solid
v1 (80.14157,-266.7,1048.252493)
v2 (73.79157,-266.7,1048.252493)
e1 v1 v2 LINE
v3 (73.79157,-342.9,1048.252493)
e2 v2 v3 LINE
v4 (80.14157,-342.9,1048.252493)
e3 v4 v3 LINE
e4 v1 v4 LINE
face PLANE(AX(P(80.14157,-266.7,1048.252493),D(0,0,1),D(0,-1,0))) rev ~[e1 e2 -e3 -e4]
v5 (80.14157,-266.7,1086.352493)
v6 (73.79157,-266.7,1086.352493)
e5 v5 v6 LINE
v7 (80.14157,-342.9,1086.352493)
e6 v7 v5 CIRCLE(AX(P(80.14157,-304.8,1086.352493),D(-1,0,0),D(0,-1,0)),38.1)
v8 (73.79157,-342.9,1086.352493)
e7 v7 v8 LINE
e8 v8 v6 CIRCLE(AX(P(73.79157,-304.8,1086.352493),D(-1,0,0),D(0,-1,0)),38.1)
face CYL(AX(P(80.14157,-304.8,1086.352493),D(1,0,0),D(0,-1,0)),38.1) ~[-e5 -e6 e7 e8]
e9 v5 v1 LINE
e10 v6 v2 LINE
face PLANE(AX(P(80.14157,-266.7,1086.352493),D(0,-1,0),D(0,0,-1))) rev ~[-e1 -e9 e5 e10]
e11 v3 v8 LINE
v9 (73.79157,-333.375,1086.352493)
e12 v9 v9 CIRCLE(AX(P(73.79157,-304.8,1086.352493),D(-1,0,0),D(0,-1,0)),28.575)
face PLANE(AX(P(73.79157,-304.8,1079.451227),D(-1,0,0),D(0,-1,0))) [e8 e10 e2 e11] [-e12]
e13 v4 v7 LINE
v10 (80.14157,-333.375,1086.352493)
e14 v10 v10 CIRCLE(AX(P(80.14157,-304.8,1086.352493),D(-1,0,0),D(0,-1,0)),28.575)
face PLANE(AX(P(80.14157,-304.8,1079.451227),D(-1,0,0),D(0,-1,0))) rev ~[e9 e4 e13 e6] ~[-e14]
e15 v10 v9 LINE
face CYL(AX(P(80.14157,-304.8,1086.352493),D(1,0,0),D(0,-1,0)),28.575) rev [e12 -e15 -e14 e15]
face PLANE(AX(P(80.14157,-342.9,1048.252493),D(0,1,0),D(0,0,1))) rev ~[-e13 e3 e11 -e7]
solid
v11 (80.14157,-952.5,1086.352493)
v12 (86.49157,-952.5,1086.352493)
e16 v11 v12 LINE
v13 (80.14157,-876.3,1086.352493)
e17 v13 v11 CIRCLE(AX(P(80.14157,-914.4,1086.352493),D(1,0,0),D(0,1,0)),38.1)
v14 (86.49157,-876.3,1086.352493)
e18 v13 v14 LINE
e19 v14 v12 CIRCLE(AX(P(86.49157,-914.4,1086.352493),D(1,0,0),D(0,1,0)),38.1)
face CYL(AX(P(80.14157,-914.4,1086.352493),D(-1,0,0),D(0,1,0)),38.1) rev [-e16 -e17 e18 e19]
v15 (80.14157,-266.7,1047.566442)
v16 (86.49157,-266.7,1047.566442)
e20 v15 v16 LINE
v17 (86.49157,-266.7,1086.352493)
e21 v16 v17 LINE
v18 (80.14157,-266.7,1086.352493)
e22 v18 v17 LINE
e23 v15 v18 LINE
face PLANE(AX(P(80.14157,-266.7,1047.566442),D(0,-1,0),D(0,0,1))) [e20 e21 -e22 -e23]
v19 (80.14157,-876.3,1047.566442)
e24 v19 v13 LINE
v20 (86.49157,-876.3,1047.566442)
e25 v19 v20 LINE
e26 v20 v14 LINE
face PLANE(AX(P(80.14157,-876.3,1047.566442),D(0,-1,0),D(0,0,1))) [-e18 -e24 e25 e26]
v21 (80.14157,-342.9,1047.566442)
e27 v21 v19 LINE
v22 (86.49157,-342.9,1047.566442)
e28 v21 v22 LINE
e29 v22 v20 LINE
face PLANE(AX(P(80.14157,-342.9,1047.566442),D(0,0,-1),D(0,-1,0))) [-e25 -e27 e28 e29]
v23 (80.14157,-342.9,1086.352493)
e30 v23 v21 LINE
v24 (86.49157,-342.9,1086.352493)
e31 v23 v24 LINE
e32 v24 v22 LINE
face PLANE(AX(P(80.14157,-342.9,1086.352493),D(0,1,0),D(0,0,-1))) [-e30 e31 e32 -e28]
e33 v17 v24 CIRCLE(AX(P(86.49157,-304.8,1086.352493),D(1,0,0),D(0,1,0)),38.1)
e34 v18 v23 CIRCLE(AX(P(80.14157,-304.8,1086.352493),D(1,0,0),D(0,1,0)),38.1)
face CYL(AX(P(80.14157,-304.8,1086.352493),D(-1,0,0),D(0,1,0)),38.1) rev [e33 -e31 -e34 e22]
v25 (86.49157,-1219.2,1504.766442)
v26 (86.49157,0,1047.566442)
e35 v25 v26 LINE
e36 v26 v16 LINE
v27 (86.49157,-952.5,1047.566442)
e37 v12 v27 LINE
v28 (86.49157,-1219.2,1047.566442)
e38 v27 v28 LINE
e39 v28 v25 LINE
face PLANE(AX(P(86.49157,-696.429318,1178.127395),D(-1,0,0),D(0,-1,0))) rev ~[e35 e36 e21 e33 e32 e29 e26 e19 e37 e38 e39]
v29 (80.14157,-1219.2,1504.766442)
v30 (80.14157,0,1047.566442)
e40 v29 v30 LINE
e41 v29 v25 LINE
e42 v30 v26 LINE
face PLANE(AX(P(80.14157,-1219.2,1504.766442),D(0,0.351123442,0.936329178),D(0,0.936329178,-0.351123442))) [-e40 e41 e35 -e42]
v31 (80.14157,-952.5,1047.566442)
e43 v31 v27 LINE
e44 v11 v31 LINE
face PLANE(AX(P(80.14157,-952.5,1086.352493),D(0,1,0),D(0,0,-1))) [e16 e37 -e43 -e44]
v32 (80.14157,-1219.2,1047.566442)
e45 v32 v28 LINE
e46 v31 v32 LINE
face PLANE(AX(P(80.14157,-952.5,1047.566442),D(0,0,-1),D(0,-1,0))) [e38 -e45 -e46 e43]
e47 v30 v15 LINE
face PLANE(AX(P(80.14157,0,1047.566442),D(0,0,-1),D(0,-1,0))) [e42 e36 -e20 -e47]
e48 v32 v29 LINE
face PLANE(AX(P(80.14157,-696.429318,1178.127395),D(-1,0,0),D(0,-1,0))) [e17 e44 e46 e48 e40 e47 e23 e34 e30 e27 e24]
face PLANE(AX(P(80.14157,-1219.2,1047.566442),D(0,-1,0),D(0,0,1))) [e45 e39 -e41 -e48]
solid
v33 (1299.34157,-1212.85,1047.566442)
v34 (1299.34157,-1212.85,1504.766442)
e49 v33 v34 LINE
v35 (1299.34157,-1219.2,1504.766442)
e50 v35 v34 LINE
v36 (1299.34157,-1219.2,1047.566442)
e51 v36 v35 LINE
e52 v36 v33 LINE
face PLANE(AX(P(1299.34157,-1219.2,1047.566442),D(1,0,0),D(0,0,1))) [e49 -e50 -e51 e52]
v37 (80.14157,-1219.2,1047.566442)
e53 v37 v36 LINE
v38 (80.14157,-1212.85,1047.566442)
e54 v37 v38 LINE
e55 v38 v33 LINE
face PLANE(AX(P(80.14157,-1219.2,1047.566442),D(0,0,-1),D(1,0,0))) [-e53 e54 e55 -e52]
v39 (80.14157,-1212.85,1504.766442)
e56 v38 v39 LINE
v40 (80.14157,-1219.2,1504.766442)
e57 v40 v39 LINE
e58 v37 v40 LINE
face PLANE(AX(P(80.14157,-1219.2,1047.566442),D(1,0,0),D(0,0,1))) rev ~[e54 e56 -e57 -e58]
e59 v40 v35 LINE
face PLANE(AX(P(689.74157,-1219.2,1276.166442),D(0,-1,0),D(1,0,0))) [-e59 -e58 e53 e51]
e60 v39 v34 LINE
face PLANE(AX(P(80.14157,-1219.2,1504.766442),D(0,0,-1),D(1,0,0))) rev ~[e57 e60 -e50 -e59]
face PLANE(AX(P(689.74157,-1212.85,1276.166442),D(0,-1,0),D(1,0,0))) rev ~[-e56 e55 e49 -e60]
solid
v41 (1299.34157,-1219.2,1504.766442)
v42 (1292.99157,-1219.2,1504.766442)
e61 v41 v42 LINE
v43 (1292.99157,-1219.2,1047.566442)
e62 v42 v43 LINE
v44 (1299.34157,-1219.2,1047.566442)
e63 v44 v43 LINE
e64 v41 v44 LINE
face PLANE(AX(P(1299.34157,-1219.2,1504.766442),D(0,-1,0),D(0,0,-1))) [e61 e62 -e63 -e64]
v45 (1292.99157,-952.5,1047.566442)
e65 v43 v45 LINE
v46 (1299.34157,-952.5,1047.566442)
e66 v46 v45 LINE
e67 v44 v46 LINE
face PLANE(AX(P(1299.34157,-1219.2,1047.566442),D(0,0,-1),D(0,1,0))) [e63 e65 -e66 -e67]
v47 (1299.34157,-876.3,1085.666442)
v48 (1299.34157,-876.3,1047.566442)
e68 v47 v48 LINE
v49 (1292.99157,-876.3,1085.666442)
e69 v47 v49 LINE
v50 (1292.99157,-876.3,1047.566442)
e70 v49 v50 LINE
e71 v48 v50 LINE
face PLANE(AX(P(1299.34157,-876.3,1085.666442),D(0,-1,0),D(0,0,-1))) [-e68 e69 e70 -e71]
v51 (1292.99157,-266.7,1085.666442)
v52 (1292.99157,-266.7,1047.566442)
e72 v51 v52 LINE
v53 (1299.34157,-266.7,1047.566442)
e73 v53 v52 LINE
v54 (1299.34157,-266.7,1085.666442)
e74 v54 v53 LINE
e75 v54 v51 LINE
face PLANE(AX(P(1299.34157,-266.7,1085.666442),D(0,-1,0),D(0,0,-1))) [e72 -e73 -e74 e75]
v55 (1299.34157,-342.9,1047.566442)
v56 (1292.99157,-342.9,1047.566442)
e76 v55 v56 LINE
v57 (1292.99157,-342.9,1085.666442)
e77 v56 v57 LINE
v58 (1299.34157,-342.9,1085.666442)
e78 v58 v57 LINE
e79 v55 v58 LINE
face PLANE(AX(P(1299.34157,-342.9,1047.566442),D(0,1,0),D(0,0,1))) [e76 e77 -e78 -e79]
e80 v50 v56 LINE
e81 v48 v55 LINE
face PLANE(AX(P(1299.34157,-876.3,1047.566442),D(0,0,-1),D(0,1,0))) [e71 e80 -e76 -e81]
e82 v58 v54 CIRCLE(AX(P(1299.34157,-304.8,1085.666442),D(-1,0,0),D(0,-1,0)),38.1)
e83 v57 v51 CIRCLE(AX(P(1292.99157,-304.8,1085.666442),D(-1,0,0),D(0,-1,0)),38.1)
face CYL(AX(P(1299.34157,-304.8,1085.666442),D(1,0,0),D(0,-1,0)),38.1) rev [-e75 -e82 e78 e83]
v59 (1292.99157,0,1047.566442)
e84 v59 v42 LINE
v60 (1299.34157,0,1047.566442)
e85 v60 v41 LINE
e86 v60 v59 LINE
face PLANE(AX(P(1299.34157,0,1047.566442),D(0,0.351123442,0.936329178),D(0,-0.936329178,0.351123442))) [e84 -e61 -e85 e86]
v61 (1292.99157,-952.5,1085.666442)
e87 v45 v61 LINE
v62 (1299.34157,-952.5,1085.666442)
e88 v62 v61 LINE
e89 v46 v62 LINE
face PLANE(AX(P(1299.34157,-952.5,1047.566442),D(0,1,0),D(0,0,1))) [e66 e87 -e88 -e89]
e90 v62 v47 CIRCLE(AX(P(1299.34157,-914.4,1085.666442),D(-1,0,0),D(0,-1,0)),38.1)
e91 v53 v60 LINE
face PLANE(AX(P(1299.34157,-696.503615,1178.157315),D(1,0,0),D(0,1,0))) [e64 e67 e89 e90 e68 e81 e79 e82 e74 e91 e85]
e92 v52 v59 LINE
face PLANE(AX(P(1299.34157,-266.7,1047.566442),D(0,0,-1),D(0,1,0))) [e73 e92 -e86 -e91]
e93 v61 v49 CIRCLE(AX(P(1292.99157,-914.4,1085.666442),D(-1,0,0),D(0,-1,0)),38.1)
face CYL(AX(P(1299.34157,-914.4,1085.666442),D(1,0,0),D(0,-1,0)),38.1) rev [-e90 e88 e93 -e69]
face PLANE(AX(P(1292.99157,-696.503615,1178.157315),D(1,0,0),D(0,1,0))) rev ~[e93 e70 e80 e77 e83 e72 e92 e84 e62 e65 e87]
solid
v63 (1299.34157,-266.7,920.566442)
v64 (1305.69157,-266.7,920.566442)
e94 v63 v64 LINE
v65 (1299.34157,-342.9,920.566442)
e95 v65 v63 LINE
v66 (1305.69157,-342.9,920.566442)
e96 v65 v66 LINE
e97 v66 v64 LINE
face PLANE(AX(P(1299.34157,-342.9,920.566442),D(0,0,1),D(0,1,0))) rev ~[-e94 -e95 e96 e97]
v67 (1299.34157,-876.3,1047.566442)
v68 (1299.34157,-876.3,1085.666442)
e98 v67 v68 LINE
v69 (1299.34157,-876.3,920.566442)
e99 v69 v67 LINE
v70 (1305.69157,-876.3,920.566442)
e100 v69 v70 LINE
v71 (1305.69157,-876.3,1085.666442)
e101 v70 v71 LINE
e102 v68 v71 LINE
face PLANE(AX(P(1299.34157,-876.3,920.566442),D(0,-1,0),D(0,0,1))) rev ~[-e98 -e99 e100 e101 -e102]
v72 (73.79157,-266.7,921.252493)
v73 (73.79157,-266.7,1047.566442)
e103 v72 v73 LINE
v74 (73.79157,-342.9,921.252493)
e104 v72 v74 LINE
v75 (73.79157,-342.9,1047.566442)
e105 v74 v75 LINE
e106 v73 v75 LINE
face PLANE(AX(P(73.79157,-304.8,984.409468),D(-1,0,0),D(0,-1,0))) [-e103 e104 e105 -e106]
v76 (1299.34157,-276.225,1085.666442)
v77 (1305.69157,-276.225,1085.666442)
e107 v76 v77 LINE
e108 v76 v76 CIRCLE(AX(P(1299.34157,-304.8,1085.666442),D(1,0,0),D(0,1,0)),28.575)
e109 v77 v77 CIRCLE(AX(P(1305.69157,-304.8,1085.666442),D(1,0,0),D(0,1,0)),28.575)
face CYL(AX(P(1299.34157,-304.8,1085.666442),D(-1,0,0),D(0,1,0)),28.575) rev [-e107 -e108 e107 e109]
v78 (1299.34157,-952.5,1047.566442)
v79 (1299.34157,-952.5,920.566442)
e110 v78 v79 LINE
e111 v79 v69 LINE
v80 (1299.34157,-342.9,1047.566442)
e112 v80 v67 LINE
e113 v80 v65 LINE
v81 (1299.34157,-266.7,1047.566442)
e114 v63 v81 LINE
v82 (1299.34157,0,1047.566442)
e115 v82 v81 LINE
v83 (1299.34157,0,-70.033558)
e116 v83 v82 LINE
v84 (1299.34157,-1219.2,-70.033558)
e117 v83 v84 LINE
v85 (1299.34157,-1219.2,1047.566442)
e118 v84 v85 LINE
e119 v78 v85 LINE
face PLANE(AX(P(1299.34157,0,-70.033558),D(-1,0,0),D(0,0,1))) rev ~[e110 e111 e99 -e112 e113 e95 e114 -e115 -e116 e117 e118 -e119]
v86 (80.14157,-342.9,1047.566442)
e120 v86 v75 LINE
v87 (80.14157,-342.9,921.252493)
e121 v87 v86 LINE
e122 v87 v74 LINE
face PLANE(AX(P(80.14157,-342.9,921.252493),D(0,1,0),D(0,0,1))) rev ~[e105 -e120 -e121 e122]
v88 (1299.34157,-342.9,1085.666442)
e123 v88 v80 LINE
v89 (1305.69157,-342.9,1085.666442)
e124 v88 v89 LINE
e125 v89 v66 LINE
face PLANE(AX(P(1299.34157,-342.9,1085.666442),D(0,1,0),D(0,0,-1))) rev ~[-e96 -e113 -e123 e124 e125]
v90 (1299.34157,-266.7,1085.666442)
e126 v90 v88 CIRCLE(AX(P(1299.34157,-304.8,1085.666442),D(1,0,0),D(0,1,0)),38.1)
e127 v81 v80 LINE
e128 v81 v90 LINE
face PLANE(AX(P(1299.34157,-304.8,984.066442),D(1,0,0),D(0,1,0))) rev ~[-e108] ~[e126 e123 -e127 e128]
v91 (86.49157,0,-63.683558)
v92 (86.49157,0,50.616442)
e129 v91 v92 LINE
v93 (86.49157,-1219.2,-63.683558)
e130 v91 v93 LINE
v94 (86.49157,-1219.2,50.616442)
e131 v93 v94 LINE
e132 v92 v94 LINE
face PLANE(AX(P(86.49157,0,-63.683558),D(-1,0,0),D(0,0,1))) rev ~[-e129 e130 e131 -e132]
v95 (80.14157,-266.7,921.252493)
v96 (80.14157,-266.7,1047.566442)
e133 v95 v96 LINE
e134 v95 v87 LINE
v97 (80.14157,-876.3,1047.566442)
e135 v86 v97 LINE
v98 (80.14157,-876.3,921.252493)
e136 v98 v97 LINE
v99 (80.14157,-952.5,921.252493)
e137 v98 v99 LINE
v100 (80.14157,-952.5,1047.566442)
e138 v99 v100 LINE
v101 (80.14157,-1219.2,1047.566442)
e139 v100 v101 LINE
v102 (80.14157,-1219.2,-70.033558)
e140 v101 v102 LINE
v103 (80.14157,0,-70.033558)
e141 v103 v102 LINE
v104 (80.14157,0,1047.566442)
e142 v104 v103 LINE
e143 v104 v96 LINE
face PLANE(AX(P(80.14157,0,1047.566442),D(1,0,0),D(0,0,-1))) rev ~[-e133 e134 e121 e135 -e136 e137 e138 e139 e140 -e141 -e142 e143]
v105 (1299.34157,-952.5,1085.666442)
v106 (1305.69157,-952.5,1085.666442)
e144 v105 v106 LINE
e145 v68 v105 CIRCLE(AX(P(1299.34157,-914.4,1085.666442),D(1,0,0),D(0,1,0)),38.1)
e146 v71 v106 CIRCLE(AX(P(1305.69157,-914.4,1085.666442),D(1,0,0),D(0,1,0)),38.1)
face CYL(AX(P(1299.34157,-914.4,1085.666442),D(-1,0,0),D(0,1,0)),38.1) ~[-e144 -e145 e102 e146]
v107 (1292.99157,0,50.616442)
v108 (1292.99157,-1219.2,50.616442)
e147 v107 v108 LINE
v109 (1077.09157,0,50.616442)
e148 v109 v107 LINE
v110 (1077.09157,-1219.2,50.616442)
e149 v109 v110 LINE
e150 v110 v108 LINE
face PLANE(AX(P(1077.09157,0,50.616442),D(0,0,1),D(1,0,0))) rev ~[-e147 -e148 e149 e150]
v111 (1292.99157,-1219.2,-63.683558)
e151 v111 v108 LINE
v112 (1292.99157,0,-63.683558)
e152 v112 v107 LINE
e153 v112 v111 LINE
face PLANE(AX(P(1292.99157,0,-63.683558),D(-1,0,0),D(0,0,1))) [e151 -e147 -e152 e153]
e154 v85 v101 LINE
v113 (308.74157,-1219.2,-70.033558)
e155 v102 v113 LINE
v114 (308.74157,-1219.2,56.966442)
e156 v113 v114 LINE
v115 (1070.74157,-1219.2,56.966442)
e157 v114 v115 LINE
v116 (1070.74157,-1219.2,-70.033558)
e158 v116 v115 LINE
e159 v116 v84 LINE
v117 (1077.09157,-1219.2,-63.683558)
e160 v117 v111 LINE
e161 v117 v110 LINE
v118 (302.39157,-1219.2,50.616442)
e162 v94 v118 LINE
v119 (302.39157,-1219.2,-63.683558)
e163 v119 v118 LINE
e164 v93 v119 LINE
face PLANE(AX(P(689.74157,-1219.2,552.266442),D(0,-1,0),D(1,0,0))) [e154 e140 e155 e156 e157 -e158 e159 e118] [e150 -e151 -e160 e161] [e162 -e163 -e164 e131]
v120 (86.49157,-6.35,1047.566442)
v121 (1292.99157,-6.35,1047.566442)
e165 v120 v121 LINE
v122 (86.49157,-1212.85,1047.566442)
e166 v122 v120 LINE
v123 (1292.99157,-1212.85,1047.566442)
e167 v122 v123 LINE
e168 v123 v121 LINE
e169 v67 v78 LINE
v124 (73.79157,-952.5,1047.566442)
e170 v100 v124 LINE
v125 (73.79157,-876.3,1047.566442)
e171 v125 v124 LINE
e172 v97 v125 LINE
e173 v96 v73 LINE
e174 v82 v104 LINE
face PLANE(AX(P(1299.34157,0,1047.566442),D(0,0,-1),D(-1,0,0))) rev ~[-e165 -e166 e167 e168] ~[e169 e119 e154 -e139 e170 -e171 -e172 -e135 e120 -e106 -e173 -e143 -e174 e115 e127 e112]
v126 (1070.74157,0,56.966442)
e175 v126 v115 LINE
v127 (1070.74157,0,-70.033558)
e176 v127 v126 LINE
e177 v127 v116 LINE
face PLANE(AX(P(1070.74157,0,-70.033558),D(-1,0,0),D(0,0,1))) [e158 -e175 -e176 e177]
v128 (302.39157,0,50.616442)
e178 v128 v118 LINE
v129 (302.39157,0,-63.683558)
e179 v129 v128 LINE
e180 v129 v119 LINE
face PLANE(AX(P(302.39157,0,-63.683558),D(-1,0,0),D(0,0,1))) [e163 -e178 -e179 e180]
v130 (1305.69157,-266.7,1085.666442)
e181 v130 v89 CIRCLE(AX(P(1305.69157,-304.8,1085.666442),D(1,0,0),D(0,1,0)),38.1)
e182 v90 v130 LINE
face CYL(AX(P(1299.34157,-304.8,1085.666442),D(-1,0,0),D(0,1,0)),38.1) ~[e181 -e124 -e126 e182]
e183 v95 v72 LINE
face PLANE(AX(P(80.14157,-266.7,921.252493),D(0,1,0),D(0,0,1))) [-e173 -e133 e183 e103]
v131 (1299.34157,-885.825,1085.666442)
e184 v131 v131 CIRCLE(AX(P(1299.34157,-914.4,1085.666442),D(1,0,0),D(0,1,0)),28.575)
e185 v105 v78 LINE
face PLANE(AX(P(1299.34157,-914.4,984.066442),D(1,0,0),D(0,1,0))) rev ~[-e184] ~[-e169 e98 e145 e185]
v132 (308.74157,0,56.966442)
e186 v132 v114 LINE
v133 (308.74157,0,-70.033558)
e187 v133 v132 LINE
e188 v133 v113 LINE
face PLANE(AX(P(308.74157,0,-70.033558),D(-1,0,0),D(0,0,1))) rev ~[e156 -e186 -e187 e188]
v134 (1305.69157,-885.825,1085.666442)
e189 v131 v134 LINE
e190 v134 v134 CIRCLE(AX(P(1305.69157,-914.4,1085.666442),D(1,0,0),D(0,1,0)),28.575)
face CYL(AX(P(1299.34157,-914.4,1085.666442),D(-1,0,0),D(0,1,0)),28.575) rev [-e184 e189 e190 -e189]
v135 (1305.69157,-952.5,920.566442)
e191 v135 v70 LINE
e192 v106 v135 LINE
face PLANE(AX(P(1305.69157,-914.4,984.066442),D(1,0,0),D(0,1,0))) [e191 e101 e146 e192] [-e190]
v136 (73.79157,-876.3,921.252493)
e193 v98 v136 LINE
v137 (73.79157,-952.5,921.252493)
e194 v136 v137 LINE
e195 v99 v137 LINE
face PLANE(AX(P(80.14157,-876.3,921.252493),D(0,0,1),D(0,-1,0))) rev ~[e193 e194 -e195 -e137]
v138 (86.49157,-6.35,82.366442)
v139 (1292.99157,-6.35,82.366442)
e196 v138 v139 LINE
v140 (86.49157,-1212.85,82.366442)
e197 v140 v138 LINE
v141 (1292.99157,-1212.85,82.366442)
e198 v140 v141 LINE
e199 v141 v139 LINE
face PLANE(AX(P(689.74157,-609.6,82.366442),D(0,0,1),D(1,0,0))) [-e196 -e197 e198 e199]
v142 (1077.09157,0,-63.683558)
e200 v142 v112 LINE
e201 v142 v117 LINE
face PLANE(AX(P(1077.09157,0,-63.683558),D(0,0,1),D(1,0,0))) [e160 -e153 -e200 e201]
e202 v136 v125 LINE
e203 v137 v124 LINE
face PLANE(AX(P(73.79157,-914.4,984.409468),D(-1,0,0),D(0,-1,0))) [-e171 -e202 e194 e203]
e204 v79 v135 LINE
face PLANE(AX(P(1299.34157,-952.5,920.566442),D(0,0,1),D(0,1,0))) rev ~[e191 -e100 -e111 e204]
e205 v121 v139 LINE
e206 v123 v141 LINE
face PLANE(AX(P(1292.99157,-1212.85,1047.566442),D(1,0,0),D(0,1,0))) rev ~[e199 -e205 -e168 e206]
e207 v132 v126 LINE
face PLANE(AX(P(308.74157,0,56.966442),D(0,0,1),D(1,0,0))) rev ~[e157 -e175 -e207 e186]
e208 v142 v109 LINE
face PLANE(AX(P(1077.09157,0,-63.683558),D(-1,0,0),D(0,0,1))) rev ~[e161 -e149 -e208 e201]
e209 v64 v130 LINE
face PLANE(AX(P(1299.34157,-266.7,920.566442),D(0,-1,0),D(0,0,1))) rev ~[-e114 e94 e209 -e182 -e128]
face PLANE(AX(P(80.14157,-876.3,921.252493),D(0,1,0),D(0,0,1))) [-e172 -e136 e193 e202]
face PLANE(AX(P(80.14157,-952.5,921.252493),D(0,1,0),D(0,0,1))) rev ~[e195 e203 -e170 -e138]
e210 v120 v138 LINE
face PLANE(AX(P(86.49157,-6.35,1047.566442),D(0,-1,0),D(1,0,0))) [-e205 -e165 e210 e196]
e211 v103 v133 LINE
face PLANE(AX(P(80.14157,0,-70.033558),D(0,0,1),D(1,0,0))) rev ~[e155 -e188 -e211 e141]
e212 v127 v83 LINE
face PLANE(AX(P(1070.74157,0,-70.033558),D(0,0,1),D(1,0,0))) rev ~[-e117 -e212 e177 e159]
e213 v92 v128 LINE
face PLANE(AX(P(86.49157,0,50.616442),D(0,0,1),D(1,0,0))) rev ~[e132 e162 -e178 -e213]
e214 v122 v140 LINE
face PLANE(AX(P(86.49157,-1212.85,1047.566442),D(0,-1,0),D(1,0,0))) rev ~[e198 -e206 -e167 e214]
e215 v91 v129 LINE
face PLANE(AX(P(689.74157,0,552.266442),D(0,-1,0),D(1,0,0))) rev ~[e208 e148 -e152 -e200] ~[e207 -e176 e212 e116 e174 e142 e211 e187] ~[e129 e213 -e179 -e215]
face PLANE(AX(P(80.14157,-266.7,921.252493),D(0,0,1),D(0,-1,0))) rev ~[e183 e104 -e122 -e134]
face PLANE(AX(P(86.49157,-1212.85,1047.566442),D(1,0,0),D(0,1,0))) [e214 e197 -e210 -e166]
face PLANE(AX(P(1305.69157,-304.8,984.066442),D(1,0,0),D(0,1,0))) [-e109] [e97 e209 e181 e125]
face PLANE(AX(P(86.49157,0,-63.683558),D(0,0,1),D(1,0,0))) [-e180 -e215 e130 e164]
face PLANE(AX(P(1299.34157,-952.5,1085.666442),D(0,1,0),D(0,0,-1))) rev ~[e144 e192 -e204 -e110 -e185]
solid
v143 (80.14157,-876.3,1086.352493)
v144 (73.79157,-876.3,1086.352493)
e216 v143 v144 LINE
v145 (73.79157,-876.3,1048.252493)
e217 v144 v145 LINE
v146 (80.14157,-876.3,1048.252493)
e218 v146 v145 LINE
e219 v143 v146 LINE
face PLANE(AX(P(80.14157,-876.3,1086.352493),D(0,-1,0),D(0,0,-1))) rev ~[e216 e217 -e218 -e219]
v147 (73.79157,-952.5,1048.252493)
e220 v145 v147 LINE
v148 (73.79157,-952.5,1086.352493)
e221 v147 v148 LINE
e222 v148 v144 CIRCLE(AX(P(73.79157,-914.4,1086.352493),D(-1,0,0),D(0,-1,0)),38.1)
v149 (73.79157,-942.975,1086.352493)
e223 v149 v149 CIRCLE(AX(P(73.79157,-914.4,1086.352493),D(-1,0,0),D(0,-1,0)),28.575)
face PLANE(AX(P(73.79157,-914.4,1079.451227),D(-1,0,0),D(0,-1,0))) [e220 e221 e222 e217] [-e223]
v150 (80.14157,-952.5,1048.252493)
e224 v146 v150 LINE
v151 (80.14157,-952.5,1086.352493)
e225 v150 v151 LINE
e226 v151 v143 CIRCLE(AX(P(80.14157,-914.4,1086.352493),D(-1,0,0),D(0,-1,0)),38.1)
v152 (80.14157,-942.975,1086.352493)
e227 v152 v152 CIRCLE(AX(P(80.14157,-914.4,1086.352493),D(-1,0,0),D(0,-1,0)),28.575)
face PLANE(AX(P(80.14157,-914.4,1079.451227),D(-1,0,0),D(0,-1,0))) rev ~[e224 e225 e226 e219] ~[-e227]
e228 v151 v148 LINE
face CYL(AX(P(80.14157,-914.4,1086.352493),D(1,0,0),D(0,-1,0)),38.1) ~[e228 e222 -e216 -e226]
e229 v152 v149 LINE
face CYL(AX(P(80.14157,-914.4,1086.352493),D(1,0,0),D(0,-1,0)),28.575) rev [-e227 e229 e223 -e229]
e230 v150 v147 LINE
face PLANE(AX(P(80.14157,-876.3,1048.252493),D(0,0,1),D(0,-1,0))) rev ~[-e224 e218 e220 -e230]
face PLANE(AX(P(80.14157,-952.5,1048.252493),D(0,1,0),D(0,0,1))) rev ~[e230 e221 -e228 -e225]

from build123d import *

# Parameters (mm, degrees)
F0_W      = 228.6
F0_H      = 127
F0_W_2    = 215.9
F0_H_2    = 114.3
F1_DEPTH  = 1219.2
F2_W      = 1206.5
F2_H      = 1206.5
F3_DEPTH  = 965.2
F4_DEPTH  = 1219.2
F5_R      = 28.575
F7_DEPTH  = 6.35
F5_W      = 76.2
F5_H      = 126.3139492095
F6_W      = 76.2
F6_H      = 127
F6_R      = 28.575
F8_DEPTH  = 6.35
F9_DEPTH  = 6.35
F10_DEPTH = 6.35
F11_W     = 1219.2
F11_H     = 457.2
F12_DEPTH = 6.35


with BuildPart() as f1:
    # F0 (on Front) → F1 (new body)
    with BuildSketch(Plane.XZ):
        Polygon((1299.3415698051, 1047.566442287), (80.1415698051, 1047.566442287), (80.1415698051, 56.966442287), (308.7415698051, 56.966442287), (1070.7415698051, 56.966442287), (1299.3415698051, 56.966442287), align=None)
        with Locations((194.4415698051, -6.533557713)):
            Rectangle(F0_W, F0_H)
        with Locations((194.4415698051, -6.533557713)):
            Rectangle(F0_W_2, F0_H_2, mode=Mode.SUBTRACT)
        with Locations((1185.0415698051, -6.533557713)):
            Rectangle(F0_W, F0_H)
        with Locations((1185.0415698051, -6.533557713)):
            Rectangle(F0_W_2, F0_H_2, mode=Mode.SUBTRACT)
    extrude(amount=F1_DEPTH)

    # F2 (on face) → F3 (cut)
    with BuildSketch(Plane.XY.offset(1047.566442287)):
        with Locations((689.7415698051, -609.6)):
            Rectangle(F2_W, F2_H)
    extrude(amount=-F3_DEPTH, mode=Mode.SUBTRACT)

    # F0 (on Front) → F4 (cut)
    with BuildSketch(Plane.XZ):
        with Locations((1185.0415698051, -6.533557713)):
            Rectangle(F0_W_2, F0_H_2)
        with Locations((194.4415698051, -6.533557713)):
            Rectangle(F0_W_2, F0_H_2)
    extrude(amount=F4_DEPTH, mode=Mode.SUBTRACT)

    # F5 (on face) → F7, piece 2 (join)
    with BuildSketch(Plane(origin=(80.1415698051, 0, 0), x_dir=(0, -1, 0), z_dir=(-1, 0, 0))):
        with Locations((304.8, 984.4094676822)):
            Rectangle(F5_W, F5_H)
        with Locations((914.4, 984.4094676822)):
            Rectangle(F5_W, F5_H)
    extrude(amount=F7_DEPTH)

    # F6 (on face) → F8 (join)
    with BuildSketch(Plane.YZ.offset(1299.3415698051)):
        with Locations((-914.4, 984.066442287)):
            Rectangle(F6_W, F6_H)
        with BuildLine():
            Line((-952.5, 1047.566442287), (-876.3, 1047.566442287))
            Line((-876.3, 1047.566442287), (-876.3, 1085.666442287))
            ThreePointArc((-876.3, 1085.666442287), (-914.4, 1123.766442287), (-952.5, 1085.666442287))
            Line((-952.5, 1085.666442287), (-952.5, 1047.566442287))
        make_face()
        with Locations((-914.4, 1085.666442287)):
            Circle(F6_R, mode=Mode.SUBTRACT)
        with Locations((-304.8, 984.066442287)):
            Rectangle(F6_W, F6_H)
        with BuildLine():
            Line((-342.9, 1085.666442287), (-342.9, 1047.566442287))
            Line((-342.9, 1047.566442287), (-266.7, 1047.566442287))
            Line((-266.7, 1047.566442287), (-266.7, 1085.666442287))
            ThreePointArc((-266.7, 1085.666442287), (-304.8, 1123.766442287), (-342.9, 1085.666442287))
        make_face()
        with Locations((-304.8, 1085.666442287)):
            Circle(F6_R, mode=Mode.SUBTRACT)
    extrude(amount=F8_DEPTH)


with BuildPart() as f7:
    # F5 (on face) → F7 (new body)
    with BuildSketch(Plane(origin=(80.1415698051, 0, 0), x_dir=(0, -1, 0), z_dir=(-1, 0, 0))):
        with BuildLine():
            Line((266.7, 1048.2524930775), (342.9, 1048.2524930775))
            Line((342.9, 1048.2524930775), (342.9, 1086.3524930775))
            ThreePointArc((342.9, 1086.3524930775), (304.8, 1124.4524930775), (266.7, 1086.3524930775))
            Line((266.7, 1086.3524930775), (266.7, 1048.2524930775))
        make_face()
        with Locations((304.8, 1086.3524930775)):
            Circle(F5_R, mode=Mode.SUBTRACT)
    extrude(amount=F7_DEPTH)


with BuildPart() as f7b:
    # F5 (on face) → F7, piece 3 (new body)
    with BuildSketch(Plane(origin=(80.1415698051, 0, 0), x_dir=(0, -1, 0), z_dir=(-1, 0, 0))):
        with BuildLine():
            Line((876.3, 1086.3524930775), (876.3, 1048.2524930775))
            Line((876.3, 1048.2524930775), (952.5, 1048.2524930775))
            Line((952.5, 1048.2524930775), (952.5, 1086.3524930775))
            ThreePointArc((952.5, 1086.3524930775), (914.4, 1124.4524930775), (876.3, 1086.3524930775))
        make_face()
        with Locations((914.4, 1086.3524930775)):
            Circle(F5_R, mode=Mode.SUBTRACT)
    extrude(amount=F7_DEPTH)


with BuildPart() as f9:
    # F5 (on face) → F9 (new body)
    with BuildSketch(Plane(origin=(80.1415698051, 0, 0), x_dir=(0, -1, 0), z_dir=(-1, 0, 0))):
        with BuildLine():
            Line((342.9, 1048.2524930775), (342.9, 1047.566442287))
            Line((342.9, 1047.566442287), (876.3, 1047.566442287))
            Line((876.3, 1047.566442287), (876.3, 1048.2524930775))
            Line((876.3, 1048.2524930775), (876.3, 1086.3524930775))
            ThreePointArc((876.3, 1086.3524930775), (914.4, 1124.4524930775), (952.5, 1086.3524930775))
            Line((952.5, 1086.3524930775), (952.5, 1048.2524930775))
            Line((952.5, 1048.2524930775), (952.5, 1047.566442287))
            Line((952.5, 1047.566442287), (1219.2, 1047.566442287))
            Line((1219.2, 1047.566442287), (1219.2, 1504.766442287))
            Line((1219.2, 1504.766442287), (0, 1047.566442287))
            Line((0, 1047.566442287), (266.7, 1047.566442287))
            Line((266.7, 1047.566442287), (266.7, 1048.2524930775))
            Line((266.7, 1048.2524930775), (266.7, 1086.3524930775))
            ThreePointArc((266.7, 1086.3524930775), (304.8, 1124.4524930775), (342.9, 1086.3524930775))
            Line((342.9, 1086.3524930775), (342.9, 1048.2524930775))
        make_face()
    extrude(amount=-F9_DEPTH)


with BuildPart() as f10:
    # F6 (on face) → F10 (new body)
    with BuildSketch(Plane.YZ.offset(1299.3415698051)):
        with BuildLine():
            Line((-876.3, 1085.666442287), (-876.3, 1047.566442287))
            Line((-876.3, 1047.566442287), (-342.9, 1047.566442287))
            Line((-342.9, 1047.566442287), (-342.9, 1085.666442287))
            ThreePointArc((-342.9, 1085.666442287), (-304.8, 1123.766442287), (-266.7, 1085.666442287))
            Line((-266.7, 1085.666442287), (-266.7, 1047.566442287))
            Line((-266.7, 1047.566442287), (0, 1047.566442287))
            Line((0, 1047.566442287), (-1219.2, 1504.766442287))
            Line((-1219.2, 1504.766442287), (-1219.2, 1047.566442287))
            Line((-1219.2, 1047.566442287), (-952.5, 1047.566442287))
            Line((-952.5, 1047.566442287), (-952.5, 1085.666442287))
            ThreePointArc((-952.5, 1085.666442287), (-914.4, 1123.766442287), (-876.3, 1085.666442287))
        make_face()
    extrude(amount=-F10_DEPTH)


with BuildPart() as f12:
    # F11 (on face) → F12 (new body)
    with BuildSketch(Plane.XZ.offset(1219.2)):
        with Locations((689.7415698051, 1276.166442287)):
            Rectangle(F11_W, F11_H)
    extrude(amount=-F12_DEPTH)


solid = Compound([f1.part, f7.part, f7b.part, f9.part, f10.part, f12.part])
